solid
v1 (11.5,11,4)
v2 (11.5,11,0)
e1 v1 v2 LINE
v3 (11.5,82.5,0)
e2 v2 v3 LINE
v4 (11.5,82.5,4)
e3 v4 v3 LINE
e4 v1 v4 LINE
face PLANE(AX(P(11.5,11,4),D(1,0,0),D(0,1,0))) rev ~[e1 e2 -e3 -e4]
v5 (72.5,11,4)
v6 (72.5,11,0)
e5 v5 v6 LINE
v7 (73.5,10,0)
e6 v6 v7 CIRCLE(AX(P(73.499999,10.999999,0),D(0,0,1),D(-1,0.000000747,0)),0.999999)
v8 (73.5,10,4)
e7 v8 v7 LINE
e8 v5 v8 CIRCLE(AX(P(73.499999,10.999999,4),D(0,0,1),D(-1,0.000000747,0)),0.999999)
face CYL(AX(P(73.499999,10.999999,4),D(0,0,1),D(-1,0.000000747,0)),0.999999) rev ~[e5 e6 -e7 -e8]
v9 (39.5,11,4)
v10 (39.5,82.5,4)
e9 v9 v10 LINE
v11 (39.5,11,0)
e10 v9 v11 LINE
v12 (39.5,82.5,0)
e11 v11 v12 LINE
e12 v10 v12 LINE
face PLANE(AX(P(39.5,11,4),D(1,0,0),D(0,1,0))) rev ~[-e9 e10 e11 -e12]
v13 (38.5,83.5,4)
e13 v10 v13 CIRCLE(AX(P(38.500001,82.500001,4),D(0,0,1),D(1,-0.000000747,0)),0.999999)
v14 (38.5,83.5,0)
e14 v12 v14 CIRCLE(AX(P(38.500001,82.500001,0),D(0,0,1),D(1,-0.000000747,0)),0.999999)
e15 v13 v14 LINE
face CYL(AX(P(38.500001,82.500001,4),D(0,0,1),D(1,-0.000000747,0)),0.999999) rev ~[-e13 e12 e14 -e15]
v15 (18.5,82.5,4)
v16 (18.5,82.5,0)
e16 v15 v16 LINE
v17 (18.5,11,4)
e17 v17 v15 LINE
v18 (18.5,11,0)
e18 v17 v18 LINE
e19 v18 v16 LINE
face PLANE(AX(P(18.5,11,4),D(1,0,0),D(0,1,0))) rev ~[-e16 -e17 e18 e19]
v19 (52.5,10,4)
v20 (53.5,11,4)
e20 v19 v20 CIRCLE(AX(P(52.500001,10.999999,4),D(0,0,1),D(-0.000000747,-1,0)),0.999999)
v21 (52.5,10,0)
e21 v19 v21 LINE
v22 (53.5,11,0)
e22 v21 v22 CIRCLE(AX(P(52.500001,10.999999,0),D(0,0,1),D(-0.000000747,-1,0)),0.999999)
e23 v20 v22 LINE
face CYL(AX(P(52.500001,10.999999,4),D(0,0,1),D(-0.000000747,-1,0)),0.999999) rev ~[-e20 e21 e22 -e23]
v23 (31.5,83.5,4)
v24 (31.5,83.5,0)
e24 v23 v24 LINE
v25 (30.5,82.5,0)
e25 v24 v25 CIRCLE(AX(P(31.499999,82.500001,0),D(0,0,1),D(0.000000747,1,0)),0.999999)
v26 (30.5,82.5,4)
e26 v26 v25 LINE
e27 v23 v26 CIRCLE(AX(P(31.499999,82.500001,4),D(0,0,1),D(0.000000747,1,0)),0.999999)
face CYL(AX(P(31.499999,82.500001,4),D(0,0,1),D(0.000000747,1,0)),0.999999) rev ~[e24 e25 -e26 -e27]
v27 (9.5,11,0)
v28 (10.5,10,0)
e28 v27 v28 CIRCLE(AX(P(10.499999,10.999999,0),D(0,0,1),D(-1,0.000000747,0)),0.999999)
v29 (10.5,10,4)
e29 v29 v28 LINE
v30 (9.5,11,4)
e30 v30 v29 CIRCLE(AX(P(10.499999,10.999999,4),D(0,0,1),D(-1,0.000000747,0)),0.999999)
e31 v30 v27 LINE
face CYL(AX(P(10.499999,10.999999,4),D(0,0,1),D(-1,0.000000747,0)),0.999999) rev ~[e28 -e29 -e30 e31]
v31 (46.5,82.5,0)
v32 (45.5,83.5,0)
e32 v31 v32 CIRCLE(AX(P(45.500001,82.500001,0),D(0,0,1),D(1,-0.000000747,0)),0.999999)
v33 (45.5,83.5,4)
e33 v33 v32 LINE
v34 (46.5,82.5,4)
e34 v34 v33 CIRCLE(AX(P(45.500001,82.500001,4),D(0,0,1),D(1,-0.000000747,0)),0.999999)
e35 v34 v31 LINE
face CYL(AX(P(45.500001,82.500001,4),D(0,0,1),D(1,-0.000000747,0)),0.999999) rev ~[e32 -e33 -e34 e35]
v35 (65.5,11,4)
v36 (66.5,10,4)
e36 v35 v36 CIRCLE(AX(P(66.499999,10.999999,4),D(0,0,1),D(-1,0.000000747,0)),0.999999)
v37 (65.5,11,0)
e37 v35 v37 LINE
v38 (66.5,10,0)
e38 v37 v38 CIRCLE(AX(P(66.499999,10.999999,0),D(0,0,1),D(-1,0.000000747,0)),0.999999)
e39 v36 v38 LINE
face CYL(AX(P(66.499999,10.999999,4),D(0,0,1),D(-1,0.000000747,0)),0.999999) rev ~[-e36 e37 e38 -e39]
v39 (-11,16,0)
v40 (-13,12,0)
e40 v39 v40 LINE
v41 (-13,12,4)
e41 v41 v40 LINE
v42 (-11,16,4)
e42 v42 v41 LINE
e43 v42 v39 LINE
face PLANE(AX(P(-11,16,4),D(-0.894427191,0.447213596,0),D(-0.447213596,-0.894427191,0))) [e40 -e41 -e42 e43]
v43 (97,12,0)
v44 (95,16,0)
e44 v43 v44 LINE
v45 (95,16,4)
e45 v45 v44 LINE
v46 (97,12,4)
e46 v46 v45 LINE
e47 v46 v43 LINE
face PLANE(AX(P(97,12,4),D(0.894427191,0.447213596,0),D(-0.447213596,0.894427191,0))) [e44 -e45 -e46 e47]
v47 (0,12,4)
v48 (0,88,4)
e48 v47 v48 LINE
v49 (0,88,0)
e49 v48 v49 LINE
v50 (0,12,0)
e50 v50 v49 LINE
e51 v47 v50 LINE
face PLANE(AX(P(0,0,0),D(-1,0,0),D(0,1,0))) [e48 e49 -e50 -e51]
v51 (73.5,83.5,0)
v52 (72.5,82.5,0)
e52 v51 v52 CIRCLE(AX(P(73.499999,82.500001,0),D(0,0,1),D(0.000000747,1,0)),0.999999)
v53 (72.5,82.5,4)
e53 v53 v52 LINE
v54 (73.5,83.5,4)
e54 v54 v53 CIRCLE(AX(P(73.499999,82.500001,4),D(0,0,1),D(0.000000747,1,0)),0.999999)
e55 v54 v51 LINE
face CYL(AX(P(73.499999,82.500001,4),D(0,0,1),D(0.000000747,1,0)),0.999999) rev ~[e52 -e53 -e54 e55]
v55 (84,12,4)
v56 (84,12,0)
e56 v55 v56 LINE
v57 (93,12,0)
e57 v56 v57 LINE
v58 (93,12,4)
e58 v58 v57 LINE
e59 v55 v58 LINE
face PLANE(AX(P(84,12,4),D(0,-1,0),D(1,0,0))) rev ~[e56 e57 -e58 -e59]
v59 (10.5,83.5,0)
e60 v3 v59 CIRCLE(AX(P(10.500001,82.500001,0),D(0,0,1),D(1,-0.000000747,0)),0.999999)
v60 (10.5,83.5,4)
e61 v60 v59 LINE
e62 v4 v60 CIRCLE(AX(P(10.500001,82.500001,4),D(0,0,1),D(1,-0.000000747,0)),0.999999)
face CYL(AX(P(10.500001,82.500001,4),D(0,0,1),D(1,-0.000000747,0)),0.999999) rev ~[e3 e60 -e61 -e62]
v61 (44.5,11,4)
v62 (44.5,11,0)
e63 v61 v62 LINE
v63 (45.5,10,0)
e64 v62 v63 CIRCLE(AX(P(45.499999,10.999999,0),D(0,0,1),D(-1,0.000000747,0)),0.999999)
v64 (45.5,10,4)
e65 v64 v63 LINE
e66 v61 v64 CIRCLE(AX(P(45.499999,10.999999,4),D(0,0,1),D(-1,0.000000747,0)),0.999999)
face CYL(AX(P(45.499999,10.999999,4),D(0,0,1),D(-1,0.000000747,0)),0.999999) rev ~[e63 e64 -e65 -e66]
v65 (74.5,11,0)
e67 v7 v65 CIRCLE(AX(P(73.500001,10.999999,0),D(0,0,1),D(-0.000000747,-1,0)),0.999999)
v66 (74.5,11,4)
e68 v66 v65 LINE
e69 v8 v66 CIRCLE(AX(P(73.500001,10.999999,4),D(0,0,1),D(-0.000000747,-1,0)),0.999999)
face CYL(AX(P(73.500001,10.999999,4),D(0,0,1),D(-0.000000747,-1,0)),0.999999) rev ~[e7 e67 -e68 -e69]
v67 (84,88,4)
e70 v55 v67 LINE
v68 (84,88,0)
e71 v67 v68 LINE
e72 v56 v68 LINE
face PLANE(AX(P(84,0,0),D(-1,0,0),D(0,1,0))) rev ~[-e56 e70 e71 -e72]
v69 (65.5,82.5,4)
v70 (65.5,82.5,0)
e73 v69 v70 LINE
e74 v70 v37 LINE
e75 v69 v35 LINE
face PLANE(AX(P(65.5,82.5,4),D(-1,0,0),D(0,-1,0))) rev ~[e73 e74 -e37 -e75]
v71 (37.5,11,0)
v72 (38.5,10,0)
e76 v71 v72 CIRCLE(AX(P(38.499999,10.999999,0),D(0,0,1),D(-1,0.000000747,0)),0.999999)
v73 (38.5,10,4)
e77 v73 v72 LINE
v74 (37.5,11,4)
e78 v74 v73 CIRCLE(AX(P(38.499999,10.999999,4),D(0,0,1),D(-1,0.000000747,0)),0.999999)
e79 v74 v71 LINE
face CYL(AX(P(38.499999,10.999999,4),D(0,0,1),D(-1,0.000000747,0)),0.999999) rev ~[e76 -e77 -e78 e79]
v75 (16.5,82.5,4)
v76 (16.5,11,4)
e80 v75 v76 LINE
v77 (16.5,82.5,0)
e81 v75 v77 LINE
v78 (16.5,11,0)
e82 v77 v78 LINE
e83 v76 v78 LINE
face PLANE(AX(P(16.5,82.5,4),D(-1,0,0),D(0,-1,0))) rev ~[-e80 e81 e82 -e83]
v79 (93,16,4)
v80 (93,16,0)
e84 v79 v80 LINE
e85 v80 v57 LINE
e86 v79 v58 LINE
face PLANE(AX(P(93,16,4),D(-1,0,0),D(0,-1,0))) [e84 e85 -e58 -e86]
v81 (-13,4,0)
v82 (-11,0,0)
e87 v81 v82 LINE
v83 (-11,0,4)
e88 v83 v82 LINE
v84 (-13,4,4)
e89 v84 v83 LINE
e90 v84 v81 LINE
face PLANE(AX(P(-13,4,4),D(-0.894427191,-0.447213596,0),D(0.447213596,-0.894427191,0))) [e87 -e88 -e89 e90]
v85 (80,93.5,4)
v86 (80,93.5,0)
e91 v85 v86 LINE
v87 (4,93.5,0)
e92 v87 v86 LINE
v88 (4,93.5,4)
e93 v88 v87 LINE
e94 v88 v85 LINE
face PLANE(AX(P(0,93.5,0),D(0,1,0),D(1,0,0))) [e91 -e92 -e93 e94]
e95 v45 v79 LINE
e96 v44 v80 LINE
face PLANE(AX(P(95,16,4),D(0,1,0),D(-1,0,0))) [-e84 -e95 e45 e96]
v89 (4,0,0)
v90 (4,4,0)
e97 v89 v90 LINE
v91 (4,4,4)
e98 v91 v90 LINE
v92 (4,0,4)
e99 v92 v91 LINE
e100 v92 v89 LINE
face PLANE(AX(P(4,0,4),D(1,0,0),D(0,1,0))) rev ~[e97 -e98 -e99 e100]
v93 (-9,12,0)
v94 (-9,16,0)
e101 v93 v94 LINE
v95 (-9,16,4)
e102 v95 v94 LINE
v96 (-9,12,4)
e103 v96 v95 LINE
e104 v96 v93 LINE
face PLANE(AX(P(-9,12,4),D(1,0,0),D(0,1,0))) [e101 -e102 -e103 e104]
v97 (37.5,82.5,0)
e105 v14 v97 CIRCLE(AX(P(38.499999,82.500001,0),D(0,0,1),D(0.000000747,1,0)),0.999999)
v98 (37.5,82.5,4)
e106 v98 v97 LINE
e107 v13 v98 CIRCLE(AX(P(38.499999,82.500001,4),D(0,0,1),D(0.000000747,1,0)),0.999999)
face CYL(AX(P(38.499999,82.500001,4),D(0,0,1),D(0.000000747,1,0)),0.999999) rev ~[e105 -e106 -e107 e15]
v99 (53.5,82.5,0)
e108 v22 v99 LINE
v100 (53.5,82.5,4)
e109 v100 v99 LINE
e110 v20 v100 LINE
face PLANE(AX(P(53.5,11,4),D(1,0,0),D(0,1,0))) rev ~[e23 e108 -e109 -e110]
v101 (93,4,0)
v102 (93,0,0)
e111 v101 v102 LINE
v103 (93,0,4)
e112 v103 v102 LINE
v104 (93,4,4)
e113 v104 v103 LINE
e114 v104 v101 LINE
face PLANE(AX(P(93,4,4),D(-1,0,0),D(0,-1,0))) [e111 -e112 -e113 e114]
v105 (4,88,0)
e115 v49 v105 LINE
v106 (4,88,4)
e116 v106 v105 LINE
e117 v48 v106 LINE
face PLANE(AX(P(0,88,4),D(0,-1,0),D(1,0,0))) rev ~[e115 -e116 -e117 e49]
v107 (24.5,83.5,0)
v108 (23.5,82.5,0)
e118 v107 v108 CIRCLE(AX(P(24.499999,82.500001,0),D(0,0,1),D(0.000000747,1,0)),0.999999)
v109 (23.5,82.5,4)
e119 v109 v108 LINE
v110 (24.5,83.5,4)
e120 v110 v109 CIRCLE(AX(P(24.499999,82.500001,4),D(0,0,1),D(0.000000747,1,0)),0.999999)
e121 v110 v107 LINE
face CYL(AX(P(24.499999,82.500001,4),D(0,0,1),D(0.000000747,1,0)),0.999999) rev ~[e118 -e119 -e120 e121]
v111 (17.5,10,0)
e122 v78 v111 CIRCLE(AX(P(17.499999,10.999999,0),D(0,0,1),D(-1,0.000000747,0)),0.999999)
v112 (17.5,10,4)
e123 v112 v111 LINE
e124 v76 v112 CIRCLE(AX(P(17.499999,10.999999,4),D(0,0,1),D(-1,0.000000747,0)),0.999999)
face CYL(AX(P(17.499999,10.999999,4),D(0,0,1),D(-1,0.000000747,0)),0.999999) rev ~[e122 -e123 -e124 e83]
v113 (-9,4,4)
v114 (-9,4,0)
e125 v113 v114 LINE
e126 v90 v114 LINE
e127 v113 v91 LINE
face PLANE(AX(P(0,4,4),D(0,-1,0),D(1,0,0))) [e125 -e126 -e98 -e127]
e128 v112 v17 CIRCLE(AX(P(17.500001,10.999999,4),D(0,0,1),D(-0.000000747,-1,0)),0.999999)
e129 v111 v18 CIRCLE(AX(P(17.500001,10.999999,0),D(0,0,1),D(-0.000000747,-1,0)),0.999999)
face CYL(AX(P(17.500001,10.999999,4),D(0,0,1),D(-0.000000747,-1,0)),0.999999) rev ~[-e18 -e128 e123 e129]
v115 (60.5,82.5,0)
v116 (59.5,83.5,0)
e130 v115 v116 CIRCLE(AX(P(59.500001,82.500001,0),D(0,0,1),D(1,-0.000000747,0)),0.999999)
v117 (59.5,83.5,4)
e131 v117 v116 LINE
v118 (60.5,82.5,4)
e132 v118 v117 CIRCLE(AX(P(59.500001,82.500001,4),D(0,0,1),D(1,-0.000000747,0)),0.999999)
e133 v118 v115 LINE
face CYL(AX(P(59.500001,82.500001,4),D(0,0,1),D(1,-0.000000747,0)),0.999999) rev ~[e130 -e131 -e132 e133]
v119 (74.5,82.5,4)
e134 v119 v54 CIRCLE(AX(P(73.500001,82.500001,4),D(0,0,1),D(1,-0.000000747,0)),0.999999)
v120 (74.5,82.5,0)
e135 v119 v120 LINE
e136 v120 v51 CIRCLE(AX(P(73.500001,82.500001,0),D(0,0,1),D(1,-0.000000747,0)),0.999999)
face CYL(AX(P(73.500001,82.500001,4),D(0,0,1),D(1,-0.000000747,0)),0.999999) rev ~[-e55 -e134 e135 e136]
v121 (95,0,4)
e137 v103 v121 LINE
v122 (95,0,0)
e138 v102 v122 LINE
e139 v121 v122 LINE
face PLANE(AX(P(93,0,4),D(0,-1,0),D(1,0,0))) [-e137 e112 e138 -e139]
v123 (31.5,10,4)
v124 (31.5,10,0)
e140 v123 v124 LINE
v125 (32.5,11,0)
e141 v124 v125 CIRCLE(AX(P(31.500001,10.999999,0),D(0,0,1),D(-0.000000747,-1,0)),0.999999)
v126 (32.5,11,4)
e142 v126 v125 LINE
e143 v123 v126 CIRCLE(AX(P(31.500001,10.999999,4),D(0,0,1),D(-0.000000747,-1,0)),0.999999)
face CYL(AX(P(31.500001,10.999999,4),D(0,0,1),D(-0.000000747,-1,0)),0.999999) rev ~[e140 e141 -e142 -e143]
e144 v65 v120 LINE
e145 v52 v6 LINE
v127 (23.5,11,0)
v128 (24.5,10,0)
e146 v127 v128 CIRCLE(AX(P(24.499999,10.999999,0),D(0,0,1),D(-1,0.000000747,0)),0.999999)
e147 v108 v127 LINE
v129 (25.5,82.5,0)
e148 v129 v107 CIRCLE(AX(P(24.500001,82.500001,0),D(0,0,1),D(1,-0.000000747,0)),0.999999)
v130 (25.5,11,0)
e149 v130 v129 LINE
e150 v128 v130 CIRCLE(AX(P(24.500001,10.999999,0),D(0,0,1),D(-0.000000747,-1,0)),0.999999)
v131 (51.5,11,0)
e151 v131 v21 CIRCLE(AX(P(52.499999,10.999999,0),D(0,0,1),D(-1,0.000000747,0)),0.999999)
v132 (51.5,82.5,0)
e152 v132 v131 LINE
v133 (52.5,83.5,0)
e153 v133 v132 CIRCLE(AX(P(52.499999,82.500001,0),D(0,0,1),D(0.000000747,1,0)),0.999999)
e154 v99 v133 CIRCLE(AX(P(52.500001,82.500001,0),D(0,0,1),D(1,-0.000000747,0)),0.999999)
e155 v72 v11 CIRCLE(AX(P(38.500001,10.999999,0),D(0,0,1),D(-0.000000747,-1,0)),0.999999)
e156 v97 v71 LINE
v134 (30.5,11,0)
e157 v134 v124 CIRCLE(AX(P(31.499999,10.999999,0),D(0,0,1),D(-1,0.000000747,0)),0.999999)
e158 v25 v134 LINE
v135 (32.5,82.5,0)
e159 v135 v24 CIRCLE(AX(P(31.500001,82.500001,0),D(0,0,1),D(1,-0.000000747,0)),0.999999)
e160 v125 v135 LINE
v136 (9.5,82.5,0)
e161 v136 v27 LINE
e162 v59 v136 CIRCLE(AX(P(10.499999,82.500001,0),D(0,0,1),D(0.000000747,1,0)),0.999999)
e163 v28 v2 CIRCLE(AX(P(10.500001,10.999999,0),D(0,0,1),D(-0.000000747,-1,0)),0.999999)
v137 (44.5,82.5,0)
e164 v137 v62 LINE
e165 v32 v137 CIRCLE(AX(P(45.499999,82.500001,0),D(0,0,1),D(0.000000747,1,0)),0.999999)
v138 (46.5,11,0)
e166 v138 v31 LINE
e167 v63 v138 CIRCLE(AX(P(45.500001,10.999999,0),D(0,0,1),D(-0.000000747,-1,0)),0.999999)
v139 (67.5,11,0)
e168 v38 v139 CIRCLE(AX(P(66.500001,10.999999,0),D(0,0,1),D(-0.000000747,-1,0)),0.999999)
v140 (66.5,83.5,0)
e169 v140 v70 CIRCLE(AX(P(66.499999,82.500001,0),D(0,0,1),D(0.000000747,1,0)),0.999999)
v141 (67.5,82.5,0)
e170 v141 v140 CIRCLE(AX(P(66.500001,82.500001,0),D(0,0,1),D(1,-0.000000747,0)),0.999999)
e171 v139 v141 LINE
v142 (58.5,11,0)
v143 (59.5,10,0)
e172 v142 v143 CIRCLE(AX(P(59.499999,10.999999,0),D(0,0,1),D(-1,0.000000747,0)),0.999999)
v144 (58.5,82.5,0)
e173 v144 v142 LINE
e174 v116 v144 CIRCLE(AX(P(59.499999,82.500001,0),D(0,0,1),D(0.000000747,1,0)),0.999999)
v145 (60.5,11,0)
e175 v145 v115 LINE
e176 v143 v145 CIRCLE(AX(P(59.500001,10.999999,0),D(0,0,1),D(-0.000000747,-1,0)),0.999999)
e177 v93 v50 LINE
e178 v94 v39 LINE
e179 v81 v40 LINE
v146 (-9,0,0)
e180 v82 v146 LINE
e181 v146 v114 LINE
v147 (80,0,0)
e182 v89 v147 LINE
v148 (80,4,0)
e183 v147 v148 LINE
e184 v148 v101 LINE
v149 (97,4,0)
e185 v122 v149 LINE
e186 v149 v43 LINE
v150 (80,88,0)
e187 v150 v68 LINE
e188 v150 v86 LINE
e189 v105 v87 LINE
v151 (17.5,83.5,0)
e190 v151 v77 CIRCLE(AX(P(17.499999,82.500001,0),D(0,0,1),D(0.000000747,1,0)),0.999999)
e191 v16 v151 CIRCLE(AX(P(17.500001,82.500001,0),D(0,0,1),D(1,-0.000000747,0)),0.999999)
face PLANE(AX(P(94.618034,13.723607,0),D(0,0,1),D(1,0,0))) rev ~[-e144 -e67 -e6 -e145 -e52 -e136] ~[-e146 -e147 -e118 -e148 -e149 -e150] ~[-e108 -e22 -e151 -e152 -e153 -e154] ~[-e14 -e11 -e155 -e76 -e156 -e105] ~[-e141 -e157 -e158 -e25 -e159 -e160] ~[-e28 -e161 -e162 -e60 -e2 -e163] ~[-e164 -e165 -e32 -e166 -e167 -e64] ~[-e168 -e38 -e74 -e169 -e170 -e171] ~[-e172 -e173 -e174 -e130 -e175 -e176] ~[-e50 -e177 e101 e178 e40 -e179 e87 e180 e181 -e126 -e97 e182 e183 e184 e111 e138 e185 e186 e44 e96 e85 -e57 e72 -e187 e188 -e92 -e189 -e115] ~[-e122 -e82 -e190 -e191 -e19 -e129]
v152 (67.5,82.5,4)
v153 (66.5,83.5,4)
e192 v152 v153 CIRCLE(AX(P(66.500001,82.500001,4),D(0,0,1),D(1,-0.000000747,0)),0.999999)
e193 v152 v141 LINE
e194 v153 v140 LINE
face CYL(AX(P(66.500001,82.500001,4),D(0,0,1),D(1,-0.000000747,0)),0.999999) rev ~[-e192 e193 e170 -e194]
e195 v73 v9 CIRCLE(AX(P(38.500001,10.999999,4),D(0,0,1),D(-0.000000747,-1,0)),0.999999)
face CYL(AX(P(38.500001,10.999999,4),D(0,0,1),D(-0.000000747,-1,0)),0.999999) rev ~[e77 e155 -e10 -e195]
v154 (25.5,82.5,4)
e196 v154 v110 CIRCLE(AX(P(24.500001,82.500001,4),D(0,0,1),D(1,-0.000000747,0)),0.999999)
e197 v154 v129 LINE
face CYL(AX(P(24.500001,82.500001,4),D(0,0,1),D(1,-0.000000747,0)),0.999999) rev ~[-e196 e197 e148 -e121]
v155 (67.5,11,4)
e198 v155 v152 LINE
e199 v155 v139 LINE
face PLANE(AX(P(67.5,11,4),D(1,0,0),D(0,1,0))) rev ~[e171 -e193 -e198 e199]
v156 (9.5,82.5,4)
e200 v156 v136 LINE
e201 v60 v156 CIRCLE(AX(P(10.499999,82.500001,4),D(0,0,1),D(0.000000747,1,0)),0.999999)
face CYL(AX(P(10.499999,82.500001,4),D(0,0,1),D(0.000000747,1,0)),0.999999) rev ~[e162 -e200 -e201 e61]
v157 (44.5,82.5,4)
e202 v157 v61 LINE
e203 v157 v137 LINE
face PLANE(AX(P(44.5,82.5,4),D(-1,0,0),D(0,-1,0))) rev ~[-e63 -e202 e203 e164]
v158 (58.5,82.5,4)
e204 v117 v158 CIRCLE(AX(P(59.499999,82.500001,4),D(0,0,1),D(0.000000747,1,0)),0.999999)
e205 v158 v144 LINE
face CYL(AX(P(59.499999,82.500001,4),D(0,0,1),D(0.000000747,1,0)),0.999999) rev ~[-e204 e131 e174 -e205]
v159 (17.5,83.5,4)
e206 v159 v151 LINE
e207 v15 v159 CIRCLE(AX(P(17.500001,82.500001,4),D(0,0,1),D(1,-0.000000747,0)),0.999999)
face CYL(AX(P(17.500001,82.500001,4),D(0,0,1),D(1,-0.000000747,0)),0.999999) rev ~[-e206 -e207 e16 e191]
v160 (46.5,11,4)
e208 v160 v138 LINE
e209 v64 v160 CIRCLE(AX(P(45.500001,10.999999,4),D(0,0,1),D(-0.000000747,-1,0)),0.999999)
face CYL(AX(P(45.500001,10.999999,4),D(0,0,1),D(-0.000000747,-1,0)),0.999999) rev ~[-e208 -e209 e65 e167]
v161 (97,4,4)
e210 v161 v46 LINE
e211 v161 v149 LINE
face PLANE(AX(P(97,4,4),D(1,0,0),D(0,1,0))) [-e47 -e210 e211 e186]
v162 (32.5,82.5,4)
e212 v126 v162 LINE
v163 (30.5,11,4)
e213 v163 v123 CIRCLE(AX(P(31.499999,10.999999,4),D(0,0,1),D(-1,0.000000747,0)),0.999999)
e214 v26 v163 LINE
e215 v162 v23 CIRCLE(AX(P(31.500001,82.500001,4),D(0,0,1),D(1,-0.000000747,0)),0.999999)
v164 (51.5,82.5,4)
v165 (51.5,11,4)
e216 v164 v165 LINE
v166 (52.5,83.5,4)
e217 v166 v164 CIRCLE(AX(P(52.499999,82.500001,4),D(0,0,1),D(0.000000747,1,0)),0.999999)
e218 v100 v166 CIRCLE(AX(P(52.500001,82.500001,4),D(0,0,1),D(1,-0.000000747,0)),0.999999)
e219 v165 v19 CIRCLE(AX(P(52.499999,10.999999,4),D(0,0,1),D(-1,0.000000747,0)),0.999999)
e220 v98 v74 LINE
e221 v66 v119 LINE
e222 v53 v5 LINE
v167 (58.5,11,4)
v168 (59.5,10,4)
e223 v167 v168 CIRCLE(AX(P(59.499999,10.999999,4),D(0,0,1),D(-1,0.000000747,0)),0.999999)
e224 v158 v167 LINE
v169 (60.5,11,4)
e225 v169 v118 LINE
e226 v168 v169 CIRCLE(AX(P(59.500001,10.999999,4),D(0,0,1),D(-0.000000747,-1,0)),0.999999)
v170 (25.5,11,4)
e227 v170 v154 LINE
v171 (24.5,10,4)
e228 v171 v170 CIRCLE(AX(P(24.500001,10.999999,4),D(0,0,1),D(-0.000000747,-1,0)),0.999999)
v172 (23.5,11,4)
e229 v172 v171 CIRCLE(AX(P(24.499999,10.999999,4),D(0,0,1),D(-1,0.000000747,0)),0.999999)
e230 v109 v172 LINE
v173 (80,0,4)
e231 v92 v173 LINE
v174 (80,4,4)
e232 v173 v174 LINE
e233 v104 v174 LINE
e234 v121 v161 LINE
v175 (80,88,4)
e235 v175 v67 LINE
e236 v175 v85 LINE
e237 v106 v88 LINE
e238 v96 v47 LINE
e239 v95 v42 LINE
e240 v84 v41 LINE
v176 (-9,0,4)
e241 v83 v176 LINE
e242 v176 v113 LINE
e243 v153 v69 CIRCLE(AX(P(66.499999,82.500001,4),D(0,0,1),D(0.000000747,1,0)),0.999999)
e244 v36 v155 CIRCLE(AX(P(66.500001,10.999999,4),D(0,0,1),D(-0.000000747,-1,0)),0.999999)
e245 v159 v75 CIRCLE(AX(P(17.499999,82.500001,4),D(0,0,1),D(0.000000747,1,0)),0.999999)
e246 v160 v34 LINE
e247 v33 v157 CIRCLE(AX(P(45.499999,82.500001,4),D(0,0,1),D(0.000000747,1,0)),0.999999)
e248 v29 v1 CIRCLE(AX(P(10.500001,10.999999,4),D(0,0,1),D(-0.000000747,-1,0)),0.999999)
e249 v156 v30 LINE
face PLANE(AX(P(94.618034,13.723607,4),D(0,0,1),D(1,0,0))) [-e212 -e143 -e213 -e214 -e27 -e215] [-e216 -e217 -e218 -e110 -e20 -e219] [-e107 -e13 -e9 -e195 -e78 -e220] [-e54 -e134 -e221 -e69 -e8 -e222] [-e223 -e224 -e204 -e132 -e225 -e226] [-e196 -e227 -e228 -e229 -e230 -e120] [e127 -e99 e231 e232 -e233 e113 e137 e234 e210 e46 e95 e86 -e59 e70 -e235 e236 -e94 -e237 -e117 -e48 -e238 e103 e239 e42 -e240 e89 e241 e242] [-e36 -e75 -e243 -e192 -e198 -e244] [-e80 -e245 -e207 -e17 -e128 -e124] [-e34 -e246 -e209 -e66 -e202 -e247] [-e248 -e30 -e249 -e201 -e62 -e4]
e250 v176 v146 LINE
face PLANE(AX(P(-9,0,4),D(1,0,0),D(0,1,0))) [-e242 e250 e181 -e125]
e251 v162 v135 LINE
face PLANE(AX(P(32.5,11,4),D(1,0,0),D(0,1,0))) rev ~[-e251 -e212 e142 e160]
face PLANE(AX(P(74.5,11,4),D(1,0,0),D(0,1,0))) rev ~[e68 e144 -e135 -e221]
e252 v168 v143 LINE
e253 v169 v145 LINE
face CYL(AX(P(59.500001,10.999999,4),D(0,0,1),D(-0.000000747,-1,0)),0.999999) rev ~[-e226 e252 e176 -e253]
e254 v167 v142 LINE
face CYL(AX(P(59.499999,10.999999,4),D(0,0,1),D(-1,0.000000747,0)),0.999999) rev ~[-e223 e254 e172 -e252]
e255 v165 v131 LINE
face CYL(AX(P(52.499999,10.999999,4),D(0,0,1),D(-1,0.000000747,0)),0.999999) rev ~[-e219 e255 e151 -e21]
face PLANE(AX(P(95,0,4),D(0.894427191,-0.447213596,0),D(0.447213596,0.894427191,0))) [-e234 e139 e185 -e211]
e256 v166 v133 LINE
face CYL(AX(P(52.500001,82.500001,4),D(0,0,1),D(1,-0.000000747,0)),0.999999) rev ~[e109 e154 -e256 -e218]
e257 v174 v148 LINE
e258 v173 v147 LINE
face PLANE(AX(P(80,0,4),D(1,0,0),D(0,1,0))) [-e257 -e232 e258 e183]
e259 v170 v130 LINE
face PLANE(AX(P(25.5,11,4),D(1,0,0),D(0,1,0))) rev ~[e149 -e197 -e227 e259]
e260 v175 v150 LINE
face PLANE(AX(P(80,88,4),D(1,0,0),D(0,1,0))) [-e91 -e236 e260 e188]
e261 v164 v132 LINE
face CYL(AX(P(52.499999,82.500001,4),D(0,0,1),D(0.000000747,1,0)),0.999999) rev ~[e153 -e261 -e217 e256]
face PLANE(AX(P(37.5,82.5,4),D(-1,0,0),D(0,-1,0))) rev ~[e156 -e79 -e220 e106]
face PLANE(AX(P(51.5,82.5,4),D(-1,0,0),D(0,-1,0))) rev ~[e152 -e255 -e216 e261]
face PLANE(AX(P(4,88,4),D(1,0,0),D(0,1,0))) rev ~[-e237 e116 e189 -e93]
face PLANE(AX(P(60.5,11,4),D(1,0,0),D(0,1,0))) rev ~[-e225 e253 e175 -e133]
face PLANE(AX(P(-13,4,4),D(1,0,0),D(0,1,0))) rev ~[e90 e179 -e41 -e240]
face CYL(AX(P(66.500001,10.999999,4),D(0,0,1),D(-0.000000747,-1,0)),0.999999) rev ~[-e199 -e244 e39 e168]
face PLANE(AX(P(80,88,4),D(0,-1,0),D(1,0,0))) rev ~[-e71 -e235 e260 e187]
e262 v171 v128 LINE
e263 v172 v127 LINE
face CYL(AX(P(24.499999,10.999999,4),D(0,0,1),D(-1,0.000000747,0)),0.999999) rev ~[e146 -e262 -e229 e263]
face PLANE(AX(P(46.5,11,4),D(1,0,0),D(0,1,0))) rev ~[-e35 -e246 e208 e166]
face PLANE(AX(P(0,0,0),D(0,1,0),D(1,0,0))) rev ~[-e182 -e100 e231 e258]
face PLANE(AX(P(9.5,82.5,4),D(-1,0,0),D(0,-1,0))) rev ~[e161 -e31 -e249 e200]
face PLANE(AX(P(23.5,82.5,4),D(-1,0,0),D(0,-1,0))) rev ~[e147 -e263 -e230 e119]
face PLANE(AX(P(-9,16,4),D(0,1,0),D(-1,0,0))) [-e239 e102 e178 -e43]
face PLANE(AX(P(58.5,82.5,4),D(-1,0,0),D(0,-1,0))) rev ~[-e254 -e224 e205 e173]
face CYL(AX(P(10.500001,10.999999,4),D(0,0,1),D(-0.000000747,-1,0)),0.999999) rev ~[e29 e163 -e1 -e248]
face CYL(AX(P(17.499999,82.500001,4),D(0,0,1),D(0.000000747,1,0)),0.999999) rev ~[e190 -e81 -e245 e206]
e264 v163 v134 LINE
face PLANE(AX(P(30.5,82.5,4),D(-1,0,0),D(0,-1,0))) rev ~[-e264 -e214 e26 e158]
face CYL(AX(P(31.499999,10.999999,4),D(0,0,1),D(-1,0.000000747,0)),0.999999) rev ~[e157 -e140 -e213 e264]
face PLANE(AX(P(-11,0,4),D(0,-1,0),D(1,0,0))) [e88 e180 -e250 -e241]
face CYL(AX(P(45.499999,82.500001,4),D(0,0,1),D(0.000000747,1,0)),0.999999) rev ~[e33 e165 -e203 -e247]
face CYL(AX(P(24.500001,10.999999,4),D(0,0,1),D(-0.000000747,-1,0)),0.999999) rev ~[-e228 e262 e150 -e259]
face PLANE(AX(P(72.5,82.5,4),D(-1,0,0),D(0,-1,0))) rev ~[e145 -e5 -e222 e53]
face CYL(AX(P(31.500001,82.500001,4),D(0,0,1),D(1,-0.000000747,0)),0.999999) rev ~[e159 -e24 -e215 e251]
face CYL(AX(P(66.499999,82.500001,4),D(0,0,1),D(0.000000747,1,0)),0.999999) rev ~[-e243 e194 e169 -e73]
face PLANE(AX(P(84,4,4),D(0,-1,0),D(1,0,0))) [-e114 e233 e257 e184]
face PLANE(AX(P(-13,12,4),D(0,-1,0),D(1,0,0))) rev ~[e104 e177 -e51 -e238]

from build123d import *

# Parameters (mm, degrees)
F0_W     = 84
F0_H     = 93.5
F1_DEPTH = 4
F2_W     = 4
F2_H     = 4
F2_H_2   = 5.5
F3_DEPTH = 4
F5_DEPTH = 4
F6_W     = 13
F6_H     = 8
F7_DEPTH = 4
F9_DEPTH = 4


with BuildPart() as f1:
    # F0 (on Top) → F1 (new body)
    with BuildSketch(Plane.XY):
        with Locations((42, 46.75)):
            Rectangle(F0_W, F0_H)
    extrude(amount=F1_DEPTH)

    # F2 (on face) → F3 (cut, through all)
    with BuildSketch(Plane.XY.offset(4)):
        with Locations((2, 2)):
            Rectangle(F2_W, F2_H)
        with Locations((82, 2)):
            Rectangle(F2_W, F2_H)
        with Locations((2, 90.75)):
            Rectangle(F2_W, F2_H_2)
        with Locations((82, 90.75)):
            Rectangle(F2_W, F2_H_2)
    extrude(amount=-F3_DEPTH, mode=Mode.SUBTRACT)

    # F4 (on face) → F5 (cut, through all)
    with BuildSketch(Plane.XY.offset(4)):
        with BuildLine():
            ThreePointArc((10.5, 83.5), (9.792893, 83.207107), (9.5, 82.5))
            Line((9.5, 82.5), (9.5, 11))
            ThreePointArc((9.5, 11), (9.792893, 10.292893), (10.5, 10))
            ThreePointArc((10.5, 10), (11.207107, 10.292893), (11.5, 11))
            Line((11.5, 11), (11.5, 82.5))
            ThreePointArc((11.5, 82.5), (11.207107, 83.207107), (10.5, 83.5))
        make_face()
        with BuildLine():
            ThreePointArc((17.5, 83.5), (16.792893, 83.207107), (16.5, 82.5))
            Line((16.5, 82.5), (16.5, 11))
            ThreePointArc((16.5, 11), (16.792893, 10.292893), (17.5, 10))
            ThreePointArc((17.5, 10), (18.207107, 10.292893), (18.5, 11))
            Line((18.5, 11), (18.5, 82.5))
            ThreePointArc((18.5, 82.5), (18.207107, 83.207107), (17.5, 83.5))
        make_face()
        with BuildLine():
            ThreePointArc((24.5, 83.5), (23.792893, 83.207107), (23.5, 82.5))
            Line((23.5, 82.5), (23.5, 11))
            ThreePointArc((23.5, 11), (23.792893, 10.292893), (24.5, 10))
            ThreePointArc((24.5, 10), (25.207107, 10.292893), (25.5, 11))
            Line((25.5, 11), (25.5, 82.5))
            ThreePointArc((25.5, 82.5), (25.207107, 83.207107), (24.5, 83.5))
        make_face()
        with BuildLine():
            ThreePointArc((31.5, 83.5), (30.792893, 83.207107), (30.5, 82.5))
            Line((30.5, 82.5), (30.5, 11))
            ThreePointArc((30.5, 11), (30.792893, 10.292893), (31.5, 10))
            ThreePointArc((31.5, 10), (32.207107, 10.292893), (32.5, 11))
            Line((32.5, 11), (32.5, 82.5))
            ThreePointArc((32.5, 82.5), (32.207107, 83.207107), (31.5, 83.5))
        make_face()
        with BuildLine():
            ThreePointArc((38.5, 83.5), (37.792893, 83.207107), (37.5, 82.5))
            Line((37.5, 82.5), (37.5, 11))
            ThreePointArc((37.5, 11), (37.792893, 10.292893), (38.5, 10))
            ThreePointArc((38.5, 10), (39.207107, 10.292893), (39.5, 11))
            Line((39.5, 11), (39.5, 82.5))
            ThreePointArc((39.5, 82.5), (39.207107, 83.207107), (38.5, 83.5))
        make_face()
        with BuildLine():
            ThreePointArc((45.5, 83.5), (44.792893, 83.207107), (44.5, 82.5))
            Line((44.5, 82.5), (44.5, 11))
            ThreePointArc((44.5, 11), (44.792893, 10.292893), (45.5, 10))
            ThreePointArc((45.5, 10), (46.207107, 10.292893), (46.5, 11))
            Line((46.5, 11), (46.5, 82.5))
            ThreePointArc((46.5, 82.5), (46.207107, 83.207107), (45.5, 83.5))
        make_face()
        with BuildLine():
            ThreePointArc((52.5, 83.5), (51.792893, 83.207107), (51.5, 82.5))
            Line((51.5, 82.5), (51.5, 11))
            ThreePointArc((51.5, 11), (51.792893, 10.292893), (52.5, 10))
            ThreePointArc((52.5, 10), (53.207107, 10.292893), (53.5, 11))
            Line((53.5, 11), (53.5, 82.5))
            ThreePointArc((53.5, 82.5), (53.207107, 83.207107), (52.5, 83.5))
        make_face()
        with BuildLine():
            ThreePointArc((59.5, 83.5), (58.792893, 83.207107), (58.5, 82.5))
            Line((58.5, 82.5), (58.5, 11))
            ThreePointArc((58.5, 11), (58.792893, 10.292893), (59.5, 10))
            ThreePointArc((59.5, 10), (60.207107, 10.292893), (60.5, 11))
            Line((60.5, 11), (60.5, 82.5))
            ThreePointArc((60.5, 82.5), (60.207107, 83.207107), (59.5, 83.5))
        make_face()
        with BuildLine():
            ThreePointArc((66.5, 83.5), (65.792893, 83.207107), (65.5, 82.5))
            Line((65.5, 82.5), (65.5, 11))
            ThreePointArc((65.5, 11), (65.792893, 10.292893), (66.5, 10))
            ThreePointArc((66.5, 10), (67.207107, 10.292893), (67.5, 11))
            Line((67.5, 11), (67.5, 82.5))
            ThreePointArc((67.5, 82.5), (67.207107, 83.207107), (66.5, 83.5))
        make_face()
        with BuildLine():
            ThreePointArc((73.5, 83.5), (72.792893, 83.207107), (72.5, 82.5))
            Line((72.5, 82.5), (72.5, 11))
            ThreePointArc((72.5, 11), (72.792893, 10.292893), (73.5, 10))
            ThreePointArc((73.5, 10), (74.207107, 10.292893), (74.5, 11))
            Line((74.5, 11), (74.5, 82.5))
            ThreePointArc((74.5, 82.5), (74.207107, 83.207107), (73.5, 83.5))
        make_face()
    extrude(amount=-F5_DEPTH, mode=Mode.SUBTRACT)

    # F6 (on face) → F7 (join)
    with BuildSketch(Plane.XY.offset(4)):
        with Locations((90.5, 8)):
            Rectangle(F6_W, F6_H)
        with Locations((-6.5, 8)):
            Rectangle(F6_W, F6_H)
    extrude(amount=-F7_DEPTH)

    # F8 (on face) → F9 (join)
    with BuildSketch(Plane.XY.offset(4)):
        Polygon((93, 16), (93, 12), (97, 12), (95, 16), align=None)
        Polygon((93, 4), (93, 0), (95, 0), (97, 4), align=None)
        Polygon((-11, 16), (-13, 12), (-9, 12), (-9, 16), align=None)
        Polygon((-11, 0), (-9, 0), (-9, 4), (-13, 4), align=None)
    extrude(amount=-F9_DEPTH)


solid = f1.part
